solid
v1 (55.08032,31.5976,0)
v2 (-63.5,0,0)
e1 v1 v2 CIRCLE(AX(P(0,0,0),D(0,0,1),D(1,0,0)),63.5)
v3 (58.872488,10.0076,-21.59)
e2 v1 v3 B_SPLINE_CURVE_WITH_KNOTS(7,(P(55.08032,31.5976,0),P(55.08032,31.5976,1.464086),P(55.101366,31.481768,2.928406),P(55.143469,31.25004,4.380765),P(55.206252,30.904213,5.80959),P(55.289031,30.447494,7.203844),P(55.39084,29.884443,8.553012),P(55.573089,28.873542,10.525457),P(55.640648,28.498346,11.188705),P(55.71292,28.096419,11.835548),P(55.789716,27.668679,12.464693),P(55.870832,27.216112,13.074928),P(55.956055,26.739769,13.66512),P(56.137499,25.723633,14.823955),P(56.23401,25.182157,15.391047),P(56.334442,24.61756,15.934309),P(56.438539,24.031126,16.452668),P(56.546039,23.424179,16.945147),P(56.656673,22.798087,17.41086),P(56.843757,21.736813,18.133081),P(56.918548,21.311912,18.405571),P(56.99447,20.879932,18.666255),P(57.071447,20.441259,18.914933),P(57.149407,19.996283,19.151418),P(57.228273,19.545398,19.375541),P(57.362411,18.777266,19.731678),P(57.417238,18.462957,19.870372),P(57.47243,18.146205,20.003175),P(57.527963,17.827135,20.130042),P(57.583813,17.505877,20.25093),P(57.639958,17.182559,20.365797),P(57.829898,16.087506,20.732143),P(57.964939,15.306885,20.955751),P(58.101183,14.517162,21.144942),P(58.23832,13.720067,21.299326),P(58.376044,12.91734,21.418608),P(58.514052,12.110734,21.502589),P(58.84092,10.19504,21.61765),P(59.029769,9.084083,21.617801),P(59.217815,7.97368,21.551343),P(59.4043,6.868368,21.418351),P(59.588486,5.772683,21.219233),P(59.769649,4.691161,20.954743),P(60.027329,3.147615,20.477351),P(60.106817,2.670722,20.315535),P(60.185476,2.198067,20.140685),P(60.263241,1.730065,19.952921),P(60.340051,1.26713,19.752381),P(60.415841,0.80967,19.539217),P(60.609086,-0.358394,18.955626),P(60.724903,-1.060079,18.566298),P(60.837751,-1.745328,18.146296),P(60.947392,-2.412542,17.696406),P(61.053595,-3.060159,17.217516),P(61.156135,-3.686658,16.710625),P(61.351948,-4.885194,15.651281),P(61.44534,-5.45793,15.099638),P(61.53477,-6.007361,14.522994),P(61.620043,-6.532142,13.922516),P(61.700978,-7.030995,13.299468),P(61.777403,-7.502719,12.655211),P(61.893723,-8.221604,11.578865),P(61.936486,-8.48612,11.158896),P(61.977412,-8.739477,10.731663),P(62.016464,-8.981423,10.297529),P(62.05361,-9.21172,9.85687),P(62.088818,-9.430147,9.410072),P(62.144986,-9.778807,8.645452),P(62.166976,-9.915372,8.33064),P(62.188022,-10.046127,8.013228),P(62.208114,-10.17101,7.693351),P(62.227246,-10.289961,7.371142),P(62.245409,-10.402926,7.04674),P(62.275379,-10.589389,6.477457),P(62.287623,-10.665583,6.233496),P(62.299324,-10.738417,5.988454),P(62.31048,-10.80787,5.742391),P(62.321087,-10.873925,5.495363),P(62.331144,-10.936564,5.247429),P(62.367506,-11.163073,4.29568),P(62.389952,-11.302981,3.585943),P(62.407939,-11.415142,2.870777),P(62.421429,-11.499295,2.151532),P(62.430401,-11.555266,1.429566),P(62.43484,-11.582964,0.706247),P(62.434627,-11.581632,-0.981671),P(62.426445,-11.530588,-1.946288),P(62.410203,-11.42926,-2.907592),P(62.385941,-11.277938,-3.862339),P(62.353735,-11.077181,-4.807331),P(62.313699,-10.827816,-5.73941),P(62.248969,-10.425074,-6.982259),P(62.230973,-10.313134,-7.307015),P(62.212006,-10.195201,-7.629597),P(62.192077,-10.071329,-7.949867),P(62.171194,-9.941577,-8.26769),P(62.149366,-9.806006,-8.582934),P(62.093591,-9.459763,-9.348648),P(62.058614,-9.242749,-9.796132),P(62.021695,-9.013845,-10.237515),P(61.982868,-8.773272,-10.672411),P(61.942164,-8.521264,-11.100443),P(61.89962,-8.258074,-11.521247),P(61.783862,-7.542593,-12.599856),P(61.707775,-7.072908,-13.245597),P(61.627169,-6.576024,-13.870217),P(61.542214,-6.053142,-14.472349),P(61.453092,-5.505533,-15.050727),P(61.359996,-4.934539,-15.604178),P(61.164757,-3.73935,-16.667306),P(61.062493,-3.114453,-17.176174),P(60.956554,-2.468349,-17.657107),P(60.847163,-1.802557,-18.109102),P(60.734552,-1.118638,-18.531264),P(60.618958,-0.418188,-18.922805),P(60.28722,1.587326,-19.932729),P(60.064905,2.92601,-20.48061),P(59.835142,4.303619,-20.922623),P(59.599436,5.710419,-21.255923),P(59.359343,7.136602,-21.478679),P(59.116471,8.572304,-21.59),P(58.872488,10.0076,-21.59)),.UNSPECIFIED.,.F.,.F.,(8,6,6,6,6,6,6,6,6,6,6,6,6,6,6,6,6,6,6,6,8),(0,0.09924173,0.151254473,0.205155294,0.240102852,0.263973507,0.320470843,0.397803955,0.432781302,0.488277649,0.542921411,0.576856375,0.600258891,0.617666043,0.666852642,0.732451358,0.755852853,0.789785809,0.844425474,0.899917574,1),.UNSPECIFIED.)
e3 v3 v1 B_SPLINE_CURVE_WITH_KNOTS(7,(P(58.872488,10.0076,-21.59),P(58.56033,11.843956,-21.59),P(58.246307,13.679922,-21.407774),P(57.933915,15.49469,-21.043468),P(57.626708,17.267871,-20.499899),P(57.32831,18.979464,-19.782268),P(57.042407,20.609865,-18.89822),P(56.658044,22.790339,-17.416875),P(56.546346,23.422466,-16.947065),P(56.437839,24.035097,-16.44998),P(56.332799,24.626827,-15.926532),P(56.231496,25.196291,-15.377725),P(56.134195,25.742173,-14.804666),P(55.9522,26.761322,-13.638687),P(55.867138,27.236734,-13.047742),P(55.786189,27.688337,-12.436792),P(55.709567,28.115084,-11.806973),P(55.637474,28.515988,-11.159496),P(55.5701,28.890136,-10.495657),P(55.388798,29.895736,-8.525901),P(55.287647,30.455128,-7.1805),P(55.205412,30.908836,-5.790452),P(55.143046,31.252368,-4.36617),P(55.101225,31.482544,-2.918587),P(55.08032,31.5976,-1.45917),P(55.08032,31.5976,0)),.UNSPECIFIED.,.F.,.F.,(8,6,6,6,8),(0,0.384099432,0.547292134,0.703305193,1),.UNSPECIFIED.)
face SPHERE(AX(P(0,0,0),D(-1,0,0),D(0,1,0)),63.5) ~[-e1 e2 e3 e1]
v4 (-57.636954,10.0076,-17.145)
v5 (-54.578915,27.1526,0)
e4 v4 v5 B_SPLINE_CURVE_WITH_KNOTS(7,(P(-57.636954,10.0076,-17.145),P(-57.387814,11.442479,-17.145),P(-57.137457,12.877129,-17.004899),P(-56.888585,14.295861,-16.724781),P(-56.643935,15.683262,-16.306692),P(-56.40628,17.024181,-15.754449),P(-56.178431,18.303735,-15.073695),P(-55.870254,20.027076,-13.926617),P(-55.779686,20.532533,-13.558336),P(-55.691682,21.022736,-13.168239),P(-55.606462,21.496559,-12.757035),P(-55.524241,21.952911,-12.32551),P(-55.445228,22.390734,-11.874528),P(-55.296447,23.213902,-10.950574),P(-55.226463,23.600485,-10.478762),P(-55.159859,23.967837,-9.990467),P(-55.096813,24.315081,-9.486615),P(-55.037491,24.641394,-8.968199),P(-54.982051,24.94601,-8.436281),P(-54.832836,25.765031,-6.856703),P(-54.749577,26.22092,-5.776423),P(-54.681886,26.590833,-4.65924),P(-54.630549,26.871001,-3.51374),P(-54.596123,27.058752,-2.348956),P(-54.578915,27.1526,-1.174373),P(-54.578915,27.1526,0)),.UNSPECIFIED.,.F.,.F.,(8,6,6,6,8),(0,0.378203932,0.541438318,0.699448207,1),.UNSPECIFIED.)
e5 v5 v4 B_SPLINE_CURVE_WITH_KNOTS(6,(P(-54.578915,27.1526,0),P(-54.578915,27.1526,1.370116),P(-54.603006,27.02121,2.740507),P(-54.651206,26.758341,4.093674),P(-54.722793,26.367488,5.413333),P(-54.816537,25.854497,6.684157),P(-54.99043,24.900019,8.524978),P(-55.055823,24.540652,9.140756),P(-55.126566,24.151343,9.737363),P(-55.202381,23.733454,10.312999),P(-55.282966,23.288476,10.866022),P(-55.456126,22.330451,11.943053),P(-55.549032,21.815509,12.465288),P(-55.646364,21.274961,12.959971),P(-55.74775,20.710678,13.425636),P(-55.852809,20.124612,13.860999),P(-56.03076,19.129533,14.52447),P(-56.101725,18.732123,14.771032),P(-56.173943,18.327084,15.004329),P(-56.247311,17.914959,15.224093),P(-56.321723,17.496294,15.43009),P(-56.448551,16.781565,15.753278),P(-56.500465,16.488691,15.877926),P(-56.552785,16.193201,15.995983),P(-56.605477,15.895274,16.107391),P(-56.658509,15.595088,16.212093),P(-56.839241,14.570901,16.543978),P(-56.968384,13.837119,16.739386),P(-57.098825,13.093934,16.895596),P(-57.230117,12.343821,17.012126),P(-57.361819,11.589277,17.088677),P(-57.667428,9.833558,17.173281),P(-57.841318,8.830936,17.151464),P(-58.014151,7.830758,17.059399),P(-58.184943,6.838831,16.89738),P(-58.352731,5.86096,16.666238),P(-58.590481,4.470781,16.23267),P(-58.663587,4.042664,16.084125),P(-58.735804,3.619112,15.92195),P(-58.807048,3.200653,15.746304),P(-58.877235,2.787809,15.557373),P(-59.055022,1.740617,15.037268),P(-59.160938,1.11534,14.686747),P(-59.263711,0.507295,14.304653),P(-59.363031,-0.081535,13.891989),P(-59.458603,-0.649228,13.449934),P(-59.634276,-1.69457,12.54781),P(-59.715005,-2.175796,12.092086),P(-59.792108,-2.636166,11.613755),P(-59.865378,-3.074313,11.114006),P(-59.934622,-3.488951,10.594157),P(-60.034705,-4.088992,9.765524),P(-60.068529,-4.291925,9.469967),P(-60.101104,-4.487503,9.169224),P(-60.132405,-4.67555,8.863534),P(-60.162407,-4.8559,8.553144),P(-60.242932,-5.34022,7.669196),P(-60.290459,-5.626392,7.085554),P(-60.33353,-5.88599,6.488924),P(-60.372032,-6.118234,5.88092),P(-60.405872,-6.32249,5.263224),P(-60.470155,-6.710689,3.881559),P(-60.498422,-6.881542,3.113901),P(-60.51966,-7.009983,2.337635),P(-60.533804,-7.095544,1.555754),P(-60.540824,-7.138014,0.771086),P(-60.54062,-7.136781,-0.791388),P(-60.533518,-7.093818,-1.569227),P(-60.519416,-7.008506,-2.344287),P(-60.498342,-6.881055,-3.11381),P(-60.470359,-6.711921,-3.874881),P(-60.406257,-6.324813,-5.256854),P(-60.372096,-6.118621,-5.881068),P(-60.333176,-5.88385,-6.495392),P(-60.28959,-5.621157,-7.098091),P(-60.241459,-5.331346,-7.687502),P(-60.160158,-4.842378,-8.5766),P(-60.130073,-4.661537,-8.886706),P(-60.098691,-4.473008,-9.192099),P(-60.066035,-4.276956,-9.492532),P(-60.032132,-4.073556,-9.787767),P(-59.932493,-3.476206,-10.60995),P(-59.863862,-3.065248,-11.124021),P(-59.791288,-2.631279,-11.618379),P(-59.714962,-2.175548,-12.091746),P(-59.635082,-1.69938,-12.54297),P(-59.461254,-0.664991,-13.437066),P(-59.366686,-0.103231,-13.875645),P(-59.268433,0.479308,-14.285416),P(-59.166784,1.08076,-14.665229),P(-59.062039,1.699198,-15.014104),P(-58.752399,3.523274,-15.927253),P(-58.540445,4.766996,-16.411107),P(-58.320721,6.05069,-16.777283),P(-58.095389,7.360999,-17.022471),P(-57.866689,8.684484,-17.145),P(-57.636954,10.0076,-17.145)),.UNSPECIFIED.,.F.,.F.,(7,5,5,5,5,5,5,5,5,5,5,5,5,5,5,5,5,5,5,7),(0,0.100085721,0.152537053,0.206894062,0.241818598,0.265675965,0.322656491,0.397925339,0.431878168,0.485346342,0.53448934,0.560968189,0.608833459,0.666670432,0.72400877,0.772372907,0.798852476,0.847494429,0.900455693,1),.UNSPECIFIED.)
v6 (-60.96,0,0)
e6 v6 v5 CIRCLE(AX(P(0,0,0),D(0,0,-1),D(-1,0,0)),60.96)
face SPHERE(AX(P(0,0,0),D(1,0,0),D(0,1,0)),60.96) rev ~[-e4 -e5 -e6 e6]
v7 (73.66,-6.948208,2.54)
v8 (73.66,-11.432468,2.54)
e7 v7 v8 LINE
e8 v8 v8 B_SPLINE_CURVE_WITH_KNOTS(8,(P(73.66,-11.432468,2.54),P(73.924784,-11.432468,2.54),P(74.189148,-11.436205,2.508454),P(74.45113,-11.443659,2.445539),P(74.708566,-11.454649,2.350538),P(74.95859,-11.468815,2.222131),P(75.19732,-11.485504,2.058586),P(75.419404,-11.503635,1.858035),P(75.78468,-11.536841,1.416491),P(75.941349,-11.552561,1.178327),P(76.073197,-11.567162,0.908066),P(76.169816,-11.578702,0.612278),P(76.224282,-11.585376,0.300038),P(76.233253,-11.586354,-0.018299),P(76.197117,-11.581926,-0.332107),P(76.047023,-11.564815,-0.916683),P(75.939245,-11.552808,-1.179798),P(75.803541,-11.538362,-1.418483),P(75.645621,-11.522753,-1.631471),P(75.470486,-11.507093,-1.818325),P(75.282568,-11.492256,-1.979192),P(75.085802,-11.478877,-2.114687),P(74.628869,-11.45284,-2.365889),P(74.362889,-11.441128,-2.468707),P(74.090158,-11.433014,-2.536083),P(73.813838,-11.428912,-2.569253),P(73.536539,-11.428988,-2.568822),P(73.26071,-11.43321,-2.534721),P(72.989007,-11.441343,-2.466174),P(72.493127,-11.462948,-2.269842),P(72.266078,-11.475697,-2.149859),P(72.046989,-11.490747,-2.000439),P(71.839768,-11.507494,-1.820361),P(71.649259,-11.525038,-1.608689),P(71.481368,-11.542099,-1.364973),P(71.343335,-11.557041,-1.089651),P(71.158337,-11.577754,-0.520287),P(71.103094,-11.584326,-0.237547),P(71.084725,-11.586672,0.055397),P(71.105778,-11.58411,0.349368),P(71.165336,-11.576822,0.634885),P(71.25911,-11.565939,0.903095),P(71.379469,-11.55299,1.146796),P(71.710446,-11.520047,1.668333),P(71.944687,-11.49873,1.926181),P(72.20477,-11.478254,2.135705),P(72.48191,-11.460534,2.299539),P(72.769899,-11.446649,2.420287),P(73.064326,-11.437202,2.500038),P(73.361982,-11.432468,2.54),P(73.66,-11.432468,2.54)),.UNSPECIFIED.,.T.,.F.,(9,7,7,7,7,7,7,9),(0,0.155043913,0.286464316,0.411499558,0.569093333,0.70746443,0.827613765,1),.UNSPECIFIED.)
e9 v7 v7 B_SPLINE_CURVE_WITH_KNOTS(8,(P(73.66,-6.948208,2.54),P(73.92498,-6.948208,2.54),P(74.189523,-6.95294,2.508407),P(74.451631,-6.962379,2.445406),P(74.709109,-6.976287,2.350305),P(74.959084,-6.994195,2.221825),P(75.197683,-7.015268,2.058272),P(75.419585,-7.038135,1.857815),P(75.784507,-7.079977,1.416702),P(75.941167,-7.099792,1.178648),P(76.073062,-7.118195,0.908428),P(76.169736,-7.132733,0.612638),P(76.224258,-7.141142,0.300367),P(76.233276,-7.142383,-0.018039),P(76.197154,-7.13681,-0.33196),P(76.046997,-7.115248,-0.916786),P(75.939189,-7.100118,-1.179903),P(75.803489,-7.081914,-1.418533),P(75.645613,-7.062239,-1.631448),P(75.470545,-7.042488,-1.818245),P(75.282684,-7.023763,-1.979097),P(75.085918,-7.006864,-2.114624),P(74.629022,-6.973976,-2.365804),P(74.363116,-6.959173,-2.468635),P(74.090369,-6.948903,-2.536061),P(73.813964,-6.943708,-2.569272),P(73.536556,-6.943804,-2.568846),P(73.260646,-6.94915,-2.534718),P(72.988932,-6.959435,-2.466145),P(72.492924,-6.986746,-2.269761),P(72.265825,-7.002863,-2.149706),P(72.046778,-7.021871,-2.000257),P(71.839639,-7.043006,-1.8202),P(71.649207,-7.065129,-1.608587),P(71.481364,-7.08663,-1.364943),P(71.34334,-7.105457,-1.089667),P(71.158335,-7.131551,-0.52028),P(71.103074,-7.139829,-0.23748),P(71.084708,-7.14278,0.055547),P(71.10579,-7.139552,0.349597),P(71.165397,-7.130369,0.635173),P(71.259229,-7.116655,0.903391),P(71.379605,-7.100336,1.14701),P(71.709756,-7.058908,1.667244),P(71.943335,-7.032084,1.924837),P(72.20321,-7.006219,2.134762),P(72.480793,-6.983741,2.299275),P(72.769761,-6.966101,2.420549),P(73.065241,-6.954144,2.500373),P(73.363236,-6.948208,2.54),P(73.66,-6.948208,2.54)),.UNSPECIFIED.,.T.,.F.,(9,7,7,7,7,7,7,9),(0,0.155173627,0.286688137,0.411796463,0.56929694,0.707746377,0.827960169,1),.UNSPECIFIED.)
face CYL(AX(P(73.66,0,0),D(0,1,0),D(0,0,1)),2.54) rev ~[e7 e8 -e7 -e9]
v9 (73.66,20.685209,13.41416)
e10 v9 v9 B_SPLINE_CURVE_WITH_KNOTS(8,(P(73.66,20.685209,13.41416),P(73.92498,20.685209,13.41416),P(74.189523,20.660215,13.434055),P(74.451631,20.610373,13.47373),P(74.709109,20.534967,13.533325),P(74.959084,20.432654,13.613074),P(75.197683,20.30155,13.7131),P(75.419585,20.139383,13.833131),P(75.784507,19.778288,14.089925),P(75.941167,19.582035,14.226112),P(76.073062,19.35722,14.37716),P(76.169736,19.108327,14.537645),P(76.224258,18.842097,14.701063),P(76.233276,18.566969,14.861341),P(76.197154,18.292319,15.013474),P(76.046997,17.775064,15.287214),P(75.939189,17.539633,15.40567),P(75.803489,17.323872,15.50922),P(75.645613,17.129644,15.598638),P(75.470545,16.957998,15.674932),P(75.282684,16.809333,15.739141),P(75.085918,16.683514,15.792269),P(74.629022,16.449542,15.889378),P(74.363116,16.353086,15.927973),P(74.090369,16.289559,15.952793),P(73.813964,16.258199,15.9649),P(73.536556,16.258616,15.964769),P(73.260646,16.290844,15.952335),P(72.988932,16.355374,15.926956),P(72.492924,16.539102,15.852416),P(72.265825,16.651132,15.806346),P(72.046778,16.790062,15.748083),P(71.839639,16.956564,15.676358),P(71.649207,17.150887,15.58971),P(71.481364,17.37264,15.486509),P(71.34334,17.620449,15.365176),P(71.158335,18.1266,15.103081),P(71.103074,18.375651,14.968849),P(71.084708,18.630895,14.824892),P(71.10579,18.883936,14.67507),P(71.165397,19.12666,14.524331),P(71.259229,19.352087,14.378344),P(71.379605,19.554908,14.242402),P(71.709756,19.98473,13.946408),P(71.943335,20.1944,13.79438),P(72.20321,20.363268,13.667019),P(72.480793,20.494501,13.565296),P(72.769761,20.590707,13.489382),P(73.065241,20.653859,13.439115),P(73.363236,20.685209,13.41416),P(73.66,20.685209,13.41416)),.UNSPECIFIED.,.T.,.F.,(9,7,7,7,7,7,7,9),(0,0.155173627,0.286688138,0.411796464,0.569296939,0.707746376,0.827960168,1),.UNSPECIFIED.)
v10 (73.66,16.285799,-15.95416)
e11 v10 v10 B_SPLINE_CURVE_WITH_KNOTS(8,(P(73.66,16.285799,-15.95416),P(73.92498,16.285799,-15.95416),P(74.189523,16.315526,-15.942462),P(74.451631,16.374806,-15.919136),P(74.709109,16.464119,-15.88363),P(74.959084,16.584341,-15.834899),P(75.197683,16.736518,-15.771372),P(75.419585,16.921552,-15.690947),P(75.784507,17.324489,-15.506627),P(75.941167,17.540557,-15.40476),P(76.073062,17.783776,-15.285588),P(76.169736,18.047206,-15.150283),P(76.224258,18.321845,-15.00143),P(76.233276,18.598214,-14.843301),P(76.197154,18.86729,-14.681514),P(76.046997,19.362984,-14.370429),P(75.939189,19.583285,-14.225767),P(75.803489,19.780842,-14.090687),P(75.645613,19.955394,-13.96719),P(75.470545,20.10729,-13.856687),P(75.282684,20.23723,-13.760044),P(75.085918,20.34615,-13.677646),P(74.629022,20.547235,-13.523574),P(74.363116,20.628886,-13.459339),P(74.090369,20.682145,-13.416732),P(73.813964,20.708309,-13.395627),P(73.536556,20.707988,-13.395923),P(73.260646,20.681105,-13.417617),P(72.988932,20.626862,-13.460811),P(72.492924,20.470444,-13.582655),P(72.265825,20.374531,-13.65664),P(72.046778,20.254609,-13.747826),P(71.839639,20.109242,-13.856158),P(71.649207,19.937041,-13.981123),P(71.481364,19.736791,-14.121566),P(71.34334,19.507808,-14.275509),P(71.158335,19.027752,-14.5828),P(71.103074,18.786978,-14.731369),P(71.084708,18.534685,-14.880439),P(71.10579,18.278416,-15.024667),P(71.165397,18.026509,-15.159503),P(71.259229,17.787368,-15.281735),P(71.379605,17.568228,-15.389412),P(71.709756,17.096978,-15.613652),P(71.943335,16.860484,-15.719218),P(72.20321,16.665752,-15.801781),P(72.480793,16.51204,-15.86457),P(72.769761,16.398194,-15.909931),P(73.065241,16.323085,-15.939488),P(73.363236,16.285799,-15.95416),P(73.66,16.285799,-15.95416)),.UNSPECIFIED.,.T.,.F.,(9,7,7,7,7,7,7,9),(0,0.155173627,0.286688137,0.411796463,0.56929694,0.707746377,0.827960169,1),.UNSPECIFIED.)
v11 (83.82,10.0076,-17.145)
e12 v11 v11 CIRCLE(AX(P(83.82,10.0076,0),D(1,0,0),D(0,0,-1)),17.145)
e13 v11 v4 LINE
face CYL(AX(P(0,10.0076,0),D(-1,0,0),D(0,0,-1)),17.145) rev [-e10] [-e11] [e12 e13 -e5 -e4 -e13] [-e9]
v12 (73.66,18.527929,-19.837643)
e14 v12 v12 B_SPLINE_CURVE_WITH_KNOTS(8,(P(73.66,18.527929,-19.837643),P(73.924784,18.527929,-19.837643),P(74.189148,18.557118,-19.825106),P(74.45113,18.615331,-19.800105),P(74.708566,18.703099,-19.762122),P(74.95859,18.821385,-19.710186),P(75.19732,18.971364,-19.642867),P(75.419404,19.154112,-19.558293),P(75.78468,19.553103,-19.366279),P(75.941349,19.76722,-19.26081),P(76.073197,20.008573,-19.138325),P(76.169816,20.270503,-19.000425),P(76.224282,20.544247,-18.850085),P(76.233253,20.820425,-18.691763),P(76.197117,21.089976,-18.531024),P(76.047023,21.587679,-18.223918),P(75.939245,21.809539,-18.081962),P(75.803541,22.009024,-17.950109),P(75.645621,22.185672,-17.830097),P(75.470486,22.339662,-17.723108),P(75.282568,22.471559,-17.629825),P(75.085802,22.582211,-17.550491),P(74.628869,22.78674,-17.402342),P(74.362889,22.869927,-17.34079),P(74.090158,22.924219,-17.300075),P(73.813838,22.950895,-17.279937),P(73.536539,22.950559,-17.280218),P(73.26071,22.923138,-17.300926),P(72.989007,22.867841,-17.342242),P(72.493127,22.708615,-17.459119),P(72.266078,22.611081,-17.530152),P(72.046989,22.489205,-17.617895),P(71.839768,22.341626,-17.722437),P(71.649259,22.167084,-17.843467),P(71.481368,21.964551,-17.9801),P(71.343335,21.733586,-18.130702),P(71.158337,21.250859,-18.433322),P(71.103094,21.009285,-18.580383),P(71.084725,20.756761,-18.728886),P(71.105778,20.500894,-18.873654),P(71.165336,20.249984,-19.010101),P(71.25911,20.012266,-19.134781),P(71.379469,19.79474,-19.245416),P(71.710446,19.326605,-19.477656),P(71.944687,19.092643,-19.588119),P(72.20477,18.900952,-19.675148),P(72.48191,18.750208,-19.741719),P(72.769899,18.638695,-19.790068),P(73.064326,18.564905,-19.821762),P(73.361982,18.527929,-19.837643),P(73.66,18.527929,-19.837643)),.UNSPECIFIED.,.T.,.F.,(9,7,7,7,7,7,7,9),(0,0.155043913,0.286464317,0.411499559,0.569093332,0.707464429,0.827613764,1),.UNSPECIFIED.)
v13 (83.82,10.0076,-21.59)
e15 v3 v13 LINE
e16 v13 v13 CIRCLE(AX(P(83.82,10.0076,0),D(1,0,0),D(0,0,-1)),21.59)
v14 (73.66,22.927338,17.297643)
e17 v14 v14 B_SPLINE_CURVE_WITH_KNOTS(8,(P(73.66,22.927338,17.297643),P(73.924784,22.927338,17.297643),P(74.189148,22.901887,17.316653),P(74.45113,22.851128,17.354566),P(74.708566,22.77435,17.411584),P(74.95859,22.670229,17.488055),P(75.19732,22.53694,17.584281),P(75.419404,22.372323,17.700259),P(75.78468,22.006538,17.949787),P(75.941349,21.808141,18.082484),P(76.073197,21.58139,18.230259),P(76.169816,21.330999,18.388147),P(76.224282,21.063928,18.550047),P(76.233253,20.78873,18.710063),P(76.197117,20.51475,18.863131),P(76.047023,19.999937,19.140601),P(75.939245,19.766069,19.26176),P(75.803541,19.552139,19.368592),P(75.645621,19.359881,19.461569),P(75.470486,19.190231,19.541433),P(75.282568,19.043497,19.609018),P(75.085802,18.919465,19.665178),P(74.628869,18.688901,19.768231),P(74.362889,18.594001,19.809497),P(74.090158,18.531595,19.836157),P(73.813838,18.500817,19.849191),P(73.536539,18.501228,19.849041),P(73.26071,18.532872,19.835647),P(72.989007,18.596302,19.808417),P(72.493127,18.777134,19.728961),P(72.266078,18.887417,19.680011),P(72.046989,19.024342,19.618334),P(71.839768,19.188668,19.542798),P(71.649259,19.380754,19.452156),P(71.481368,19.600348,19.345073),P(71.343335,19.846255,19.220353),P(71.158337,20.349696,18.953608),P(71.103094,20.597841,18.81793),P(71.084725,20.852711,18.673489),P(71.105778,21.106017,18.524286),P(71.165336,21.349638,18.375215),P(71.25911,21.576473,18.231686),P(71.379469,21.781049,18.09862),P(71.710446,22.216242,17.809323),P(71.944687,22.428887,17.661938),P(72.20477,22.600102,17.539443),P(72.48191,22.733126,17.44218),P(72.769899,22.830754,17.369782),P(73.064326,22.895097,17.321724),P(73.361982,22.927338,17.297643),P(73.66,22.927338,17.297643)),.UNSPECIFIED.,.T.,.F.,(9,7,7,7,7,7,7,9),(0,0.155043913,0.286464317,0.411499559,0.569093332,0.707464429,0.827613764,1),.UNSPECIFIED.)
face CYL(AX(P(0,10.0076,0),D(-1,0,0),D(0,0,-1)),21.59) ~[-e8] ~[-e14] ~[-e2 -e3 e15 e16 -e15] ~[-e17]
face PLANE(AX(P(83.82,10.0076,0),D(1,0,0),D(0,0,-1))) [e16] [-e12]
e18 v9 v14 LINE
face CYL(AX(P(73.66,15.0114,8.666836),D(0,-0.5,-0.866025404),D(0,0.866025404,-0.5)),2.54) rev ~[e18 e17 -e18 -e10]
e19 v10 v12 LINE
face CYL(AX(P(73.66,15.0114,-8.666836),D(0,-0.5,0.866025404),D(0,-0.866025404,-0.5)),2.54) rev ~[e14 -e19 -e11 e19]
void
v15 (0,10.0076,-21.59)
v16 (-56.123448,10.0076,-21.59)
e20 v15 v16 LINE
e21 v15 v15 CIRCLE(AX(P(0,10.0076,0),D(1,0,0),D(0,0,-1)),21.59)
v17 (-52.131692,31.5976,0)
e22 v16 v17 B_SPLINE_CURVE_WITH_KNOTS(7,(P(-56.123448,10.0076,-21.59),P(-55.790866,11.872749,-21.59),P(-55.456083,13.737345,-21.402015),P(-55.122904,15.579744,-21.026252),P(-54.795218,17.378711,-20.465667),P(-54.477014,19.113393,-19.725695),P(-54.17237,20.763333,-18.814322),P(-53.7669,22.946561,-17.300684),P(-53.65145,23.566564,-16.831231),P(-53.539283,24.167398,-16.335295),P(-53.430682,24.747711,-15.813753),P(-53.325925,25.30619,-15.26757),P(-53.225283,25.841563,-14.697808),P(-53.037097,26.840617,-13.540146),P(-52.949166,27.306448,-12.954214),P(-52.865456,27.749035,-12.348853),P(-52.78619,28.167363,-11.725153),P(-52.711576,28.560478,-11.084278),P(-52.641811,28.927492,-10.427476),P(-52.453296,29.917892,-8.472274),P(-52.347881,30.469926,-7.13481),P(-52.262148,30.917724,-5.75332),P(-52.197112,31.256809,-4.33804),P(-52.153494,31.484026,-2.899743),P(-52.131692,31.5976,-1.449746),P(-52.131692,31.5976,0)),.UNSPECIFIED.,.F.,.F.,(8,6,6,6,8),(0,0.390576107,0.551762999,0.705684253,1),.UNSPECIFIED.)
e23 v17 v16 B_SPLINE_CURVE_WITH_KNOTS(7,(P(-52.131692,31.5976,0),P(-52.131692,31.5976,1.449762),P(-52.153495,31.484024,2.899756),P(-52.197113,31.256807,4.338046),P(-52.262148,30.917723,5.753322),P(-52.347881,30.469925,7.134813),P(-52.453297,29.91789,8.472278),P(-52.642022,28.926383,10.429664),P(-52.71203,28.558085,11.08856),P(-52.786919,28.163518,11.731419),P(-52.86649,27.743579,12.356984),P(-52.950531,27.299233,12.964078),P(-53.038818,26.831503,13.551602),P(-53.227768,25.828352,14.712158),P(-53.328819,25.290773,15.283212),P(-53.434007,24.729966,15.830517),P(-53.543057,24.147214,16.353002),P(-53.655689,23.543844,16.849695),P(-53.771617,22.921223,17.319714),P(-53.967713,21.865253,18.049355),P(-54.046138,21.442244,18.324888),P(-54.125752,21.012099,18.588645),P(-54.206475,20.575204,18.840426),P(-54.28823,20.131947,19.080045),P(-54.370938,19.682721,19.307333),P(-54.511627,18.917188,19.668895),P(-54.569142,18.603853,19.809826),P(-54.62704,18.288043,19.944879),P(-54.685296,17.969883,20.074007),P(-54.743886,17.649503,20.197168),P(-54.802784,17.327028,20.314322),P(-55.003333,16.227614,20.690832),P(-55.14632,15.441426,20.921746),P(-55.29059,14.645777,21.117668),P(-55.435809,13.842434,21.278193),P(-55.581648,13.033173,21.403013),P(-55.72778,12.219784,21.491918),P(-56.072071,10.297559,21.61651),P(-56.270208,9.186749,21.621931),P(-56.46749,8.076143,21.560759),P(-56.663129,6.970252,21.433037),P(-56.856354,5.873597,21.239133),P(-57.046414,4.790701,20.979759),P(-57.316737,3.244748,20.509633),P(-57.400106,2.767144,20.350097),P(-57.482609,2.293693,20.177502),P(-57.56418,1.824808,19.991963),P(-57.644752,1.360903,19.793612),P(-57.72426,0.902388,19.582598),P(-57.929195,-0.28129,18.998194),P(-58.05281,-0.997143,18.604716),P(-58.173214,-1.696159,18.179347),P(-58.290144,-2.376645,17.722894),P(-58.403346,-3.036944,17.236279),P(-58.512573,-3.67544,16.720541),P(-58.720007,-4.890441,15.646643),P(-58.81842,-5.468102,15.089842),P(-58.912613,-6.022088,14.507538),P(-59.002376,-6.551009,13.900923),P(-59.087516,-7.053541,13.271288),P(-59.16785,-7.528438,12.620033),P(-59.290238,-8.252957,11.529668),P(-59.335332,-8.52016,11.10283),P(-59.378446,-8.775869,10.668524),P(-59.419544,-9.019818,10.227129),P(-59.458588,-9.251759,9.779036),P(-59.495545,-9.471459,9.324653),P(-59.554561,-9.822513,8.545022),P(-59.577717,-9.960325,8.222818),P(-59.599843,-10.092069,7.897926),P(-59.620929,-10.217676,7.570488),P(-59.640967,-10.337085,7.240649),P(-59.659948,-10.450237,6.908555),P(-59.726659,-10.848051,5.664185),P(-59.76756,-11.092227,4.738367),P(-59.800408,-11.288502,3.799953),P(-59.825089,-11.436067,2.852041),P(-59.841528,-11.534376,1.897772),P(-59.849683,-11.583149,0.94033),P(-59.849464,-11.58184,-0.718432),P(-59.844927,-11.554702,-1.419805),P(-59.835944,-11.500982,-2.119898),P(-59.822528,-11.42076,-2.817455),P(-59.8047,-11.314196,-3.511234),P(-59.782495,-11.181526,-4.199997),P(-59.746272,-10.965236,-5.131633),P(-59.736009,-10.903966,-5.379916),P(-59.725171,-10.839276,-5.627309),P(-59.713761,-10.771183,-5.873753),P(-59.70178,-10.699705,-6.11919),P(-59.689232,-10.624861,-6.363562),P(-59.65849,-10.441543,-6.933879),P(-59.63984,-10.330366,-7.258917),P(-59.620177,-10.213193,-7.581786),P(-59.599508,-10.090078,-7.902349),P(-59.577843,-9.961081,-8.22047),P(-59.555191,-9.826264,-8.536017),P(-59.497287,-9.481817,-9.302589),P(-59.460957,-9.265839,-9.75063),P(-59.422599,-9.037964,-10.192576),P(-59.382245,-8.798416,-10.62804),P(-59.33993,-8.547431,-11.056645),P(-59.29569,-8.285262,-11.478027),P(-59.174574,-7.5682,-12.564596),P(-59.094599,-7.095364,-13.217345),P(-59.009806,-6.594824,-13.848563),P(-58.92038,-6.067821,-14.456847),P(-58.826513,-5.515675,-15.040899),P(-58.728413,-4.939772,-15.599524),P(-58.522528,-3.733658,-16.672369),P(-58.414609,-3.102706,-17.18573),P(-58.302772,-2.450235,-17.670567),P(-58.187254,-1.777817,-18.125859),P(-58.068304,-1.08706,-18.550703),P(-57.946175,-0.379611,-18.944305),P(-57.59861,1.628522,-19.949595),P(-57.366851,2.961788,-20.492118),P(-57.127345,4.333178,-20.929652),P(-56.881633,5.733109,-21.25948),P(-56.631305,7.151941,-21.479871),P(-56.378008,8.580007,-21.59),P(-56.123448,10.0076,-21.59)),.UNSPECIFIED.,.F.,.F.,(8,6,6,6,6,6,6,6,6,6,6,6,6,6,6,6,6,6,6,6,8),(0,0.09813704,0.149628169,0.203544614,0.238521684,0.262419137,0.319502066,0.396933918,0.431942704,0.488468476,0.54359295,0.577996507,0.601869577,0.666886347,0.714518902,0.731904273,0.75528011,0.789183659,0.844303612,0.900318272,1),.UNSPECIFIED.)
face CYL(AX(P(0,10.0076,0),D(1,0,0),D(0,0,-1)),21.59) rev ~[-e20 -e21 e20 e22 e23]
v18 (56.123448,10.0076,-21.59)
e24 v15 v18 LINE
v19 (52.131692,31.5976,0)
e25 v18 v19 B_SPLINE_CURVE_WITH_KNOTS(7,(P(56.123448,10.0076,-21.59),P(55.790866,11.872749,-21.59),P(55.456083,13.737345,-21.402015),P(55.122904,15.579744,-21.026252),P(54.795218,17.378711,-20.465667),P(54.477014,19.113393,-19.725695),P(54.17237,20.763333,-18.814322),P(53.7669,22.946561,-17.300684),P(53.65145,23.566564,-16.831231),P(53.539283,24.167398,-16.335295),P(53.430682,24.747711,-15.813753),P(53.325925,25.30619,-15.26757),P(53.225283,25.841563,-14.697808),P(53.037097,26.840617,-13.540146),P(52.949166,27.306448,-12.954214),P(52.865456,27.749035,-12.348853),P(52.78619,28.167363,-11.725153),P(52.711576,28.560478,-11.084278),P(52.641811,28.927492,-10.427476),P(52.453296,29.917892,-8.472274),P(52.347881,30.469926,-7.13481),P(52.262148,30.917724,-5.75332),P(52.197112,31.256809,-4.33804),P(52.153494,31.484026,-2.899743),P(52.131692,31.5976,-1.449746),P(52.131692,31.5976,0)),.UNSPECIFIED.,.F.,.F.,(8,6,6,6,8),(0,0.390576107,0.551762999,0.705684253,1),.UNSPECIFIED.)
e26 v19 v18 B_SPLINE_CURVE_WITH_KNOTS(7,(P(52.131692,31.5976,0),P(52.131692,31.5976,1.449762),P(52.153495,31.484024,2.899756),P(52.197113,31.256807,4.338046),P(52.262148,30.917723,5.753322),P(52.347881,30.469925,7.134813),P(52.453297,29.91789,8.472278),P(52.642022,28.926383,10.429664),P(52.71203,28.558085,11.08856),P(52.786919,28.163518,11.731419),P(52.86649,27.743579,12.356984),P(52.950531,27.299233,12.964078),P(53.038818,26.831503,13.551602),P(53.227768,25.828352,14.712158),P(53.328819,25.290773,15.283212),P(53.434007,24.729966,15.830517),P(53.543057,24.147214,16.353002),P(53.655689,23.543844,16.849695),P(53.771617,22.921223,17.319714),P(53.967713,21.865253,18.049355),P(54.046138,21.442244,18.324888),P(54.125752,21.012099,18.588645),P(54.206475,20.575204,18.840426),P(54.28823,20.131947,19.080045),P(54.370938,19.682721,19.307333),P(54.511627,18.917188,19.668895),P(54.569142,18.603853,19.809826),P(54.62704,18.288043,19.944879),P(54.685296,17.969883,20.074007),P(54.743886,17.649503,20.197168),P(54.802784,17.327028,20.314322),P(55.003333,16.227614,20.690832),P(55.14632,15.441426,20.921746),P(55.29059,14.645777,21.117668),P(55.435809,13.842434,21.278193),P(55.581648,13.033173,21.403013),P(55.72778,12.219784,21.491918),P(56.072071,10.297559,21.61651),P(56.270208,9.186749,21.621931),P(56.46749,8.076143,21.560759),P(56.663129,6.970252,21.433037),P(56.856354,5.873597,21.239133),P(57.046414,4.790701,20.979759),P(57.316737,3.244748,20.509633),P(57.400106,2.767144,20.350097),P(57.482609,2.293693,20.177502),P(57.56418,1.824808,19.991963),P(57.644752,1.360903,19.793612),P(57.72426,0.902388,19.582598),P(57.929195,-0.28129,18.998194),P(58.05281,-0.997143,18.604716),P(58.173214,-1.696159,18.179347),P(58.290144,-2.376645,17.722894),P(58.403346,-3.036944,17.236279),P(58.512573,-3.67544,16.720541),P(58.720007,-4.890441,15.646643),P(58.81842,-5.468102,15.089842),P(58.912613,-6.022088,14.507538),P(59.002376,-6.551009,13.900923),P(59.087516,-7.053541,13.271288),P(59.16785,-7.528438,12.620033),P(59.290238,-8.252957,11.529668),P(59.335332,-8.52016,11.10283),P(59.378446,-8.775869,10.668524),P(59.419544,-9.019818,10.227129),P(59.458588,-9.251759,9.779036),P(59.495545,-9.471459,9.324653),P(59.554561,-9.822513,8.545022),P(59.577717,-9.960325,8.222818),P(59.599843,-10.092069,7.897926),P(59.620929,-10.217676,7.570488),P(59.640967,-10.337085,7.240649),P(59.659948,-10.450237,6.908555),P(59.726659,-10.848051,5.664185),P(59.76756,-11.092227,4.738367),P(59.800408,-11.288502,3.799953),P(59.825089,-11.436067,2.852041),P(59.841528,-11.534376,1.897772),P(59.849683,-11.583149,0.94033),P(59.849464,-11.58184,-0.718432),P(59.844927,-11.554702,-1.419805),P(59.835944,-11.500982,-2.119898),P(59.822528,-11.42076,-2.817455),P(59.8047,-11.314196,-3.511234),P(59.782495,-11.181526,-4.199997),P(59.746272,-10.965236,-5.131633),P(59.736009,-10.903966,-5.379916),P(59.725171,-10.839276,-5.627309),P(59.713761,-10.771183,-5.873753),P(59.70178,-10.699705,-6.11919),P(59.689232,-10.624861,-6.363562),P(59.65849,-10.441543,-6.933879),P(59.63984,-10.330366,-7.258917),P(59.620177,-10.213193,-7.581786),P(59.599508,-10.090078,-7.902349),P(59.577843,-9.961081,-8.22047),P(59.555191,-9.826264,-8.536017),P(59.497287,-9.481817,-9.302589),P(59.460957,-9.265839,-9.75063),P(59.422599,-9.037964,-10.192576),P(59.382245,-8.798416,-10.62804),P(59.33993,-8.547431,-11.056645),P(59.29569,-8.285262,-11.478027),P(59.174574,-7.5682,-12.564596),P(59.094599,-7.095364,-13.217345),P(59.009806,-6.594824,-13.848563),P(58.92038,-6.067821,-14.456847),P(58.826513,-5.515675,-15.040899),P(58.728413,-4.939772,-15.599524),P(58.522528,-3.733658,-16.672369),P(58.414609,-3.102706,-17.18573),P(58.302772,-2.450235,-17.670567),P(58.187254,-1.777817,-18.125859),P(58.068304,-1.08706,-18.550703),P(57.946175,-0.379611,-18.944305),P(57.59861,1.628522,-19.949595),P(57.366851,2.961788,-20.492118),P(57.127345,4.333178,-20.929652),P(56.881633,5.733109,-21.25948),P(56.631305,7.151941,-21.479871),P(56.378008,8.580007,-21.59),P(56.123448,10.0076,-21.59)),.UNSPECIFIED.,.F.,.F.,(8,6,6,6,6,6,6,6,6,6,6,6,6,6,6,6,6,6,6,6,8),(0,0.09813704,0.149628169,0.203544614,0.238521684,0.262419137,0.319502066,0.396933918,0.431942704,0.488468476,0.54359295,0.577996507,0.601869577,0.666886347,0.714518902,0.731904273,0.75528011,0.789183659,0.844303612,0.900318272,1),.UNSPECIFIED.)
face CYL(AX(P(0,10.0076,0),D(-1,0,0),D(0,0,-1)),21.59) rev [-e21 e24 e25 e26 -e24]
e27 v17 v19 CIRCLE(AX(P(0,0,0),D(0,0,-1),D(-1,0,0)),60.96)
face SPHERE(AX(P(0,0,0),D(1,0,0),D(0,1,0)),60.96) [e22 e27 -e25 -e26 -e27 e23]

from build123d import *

# Parameters (mm, degrees)
SKETCH2_R                       = 21.59
SKETCH2_R_2                     = 17.145
BOSS_EXTRUDE1_DEPTH             = 83.82
BOSS_EXTRUDE1_DIRECTION_2_REACH = 111.985
SKETCH2_4_R                     = 17.145
CUT_EXTRUDE3_DEPTH              = 138.938
SKETCH4_R                       = 2.54
CUT_EXTRUDE4_DEPTH              = 138.938
CIRPATTERN1_COUNT               = 3


with BuildPart() as part:
    # Sketch1 → Revolve1 (revolve)
    with BuildSketch(Plane.XY):
        with BuildLine():
            Line((-63.5, 0), (-60.96, 0))
            ThreePointArc((-60.96, 0), (0, 60.96), (60.96, 0))
            Line((60.96, 0), (63.5, 0))
            ThreePointArc((63.5, 0), (0, 63.5), (-63.5, 0))
        make_face()
    revolve(axis=Axis((-63.5, 0, 0), (1, 0, 0)))

    # Sketch2 → Boss-Extrude1 (add)
    with BuildSketch(Plane(origin=(0, 0, 0), x_dir=(0, 0, -1), z_dir=(1, 0, 0))):
        with Locations((0, 10.0076)):
            Circle(SKETCH2_R)
        with Locations((0, 10.0076)):
            Circle(SKETCH2_R_2, mode=Mode.SUBTRACT)
    extrude(amount=BOSS_EXTRUDE1_DEPTH)

    # Sketch2 → Boss-Extrude1 direction 2 (add, up to next)
    with BuildSketch(Plane(origin=(0, 0, 0), x_dir=(0, 0, -1), z_dir=(1, 0, 0)), mode=Mode.PRIVATE) as boss_extrude1_direction_2_sk1:
        with Locations((0, 10.0076)):
            Circle(SKETCH2_R)
        with Locations((0, 10.0076)):
            Circle(SKETCH2_R_2, mode=Mode.SUBTRACT)
    boss_extrude1_direction_2_tool1 = extrude(boss_extrude1_direction_2_sk1.sketch, amount=-BOSS_EXTRUDE1_DIRECTION_2_REACH, mode=Mode.PRIVATE) - part.part
    add(boss_extrude1_direction_2_tool1.solids().sort_by_distance((0, 10.0076, 20.979343))[0])

    # Sketch2<4> → Cut-Extrude3 (cut)
    with BuildSketch(Plane(origin=(0, 0, 0), x_dir=(0, 0, -1), z_dir=(1, 0, 0))):
        with Locations((0, 10.0076)):
            Circle(SKETCH2_4_R)
    extrude(amount=CUT_EXTRUDE3_DEPTH, mode=Mode.SUBTRACT)

    # Sketch4 → Cut-Extrude4 (cut)
    with BuildSketch(Plane(origin=(0, 0, 0), x_dir=(1, 0, 0), z_dir=(0, 1, 0))):
        with Locations((73.66, 0)):
            Circle(SKETCH4_R)
    cut_extrude4 = extrude(amount=-CUT_EXTRUDE4_DEPTH, mode=Mode.SUBTRACT)

    # CirPattern1: Cut-Extrude4 ×3 about axis
    cirpattern1_axis = Axis((-63.502, 10.0076, 0), (1, 0, 0))
    for i in range(1, CIRPATTERN1_COUNT):
        add(cut_extrude4.rotate(cirpattern1_axis, i * 360 / CIRPATTERN1_COUNT), mode=Mode.SUBTRACT)


solid = part.part
